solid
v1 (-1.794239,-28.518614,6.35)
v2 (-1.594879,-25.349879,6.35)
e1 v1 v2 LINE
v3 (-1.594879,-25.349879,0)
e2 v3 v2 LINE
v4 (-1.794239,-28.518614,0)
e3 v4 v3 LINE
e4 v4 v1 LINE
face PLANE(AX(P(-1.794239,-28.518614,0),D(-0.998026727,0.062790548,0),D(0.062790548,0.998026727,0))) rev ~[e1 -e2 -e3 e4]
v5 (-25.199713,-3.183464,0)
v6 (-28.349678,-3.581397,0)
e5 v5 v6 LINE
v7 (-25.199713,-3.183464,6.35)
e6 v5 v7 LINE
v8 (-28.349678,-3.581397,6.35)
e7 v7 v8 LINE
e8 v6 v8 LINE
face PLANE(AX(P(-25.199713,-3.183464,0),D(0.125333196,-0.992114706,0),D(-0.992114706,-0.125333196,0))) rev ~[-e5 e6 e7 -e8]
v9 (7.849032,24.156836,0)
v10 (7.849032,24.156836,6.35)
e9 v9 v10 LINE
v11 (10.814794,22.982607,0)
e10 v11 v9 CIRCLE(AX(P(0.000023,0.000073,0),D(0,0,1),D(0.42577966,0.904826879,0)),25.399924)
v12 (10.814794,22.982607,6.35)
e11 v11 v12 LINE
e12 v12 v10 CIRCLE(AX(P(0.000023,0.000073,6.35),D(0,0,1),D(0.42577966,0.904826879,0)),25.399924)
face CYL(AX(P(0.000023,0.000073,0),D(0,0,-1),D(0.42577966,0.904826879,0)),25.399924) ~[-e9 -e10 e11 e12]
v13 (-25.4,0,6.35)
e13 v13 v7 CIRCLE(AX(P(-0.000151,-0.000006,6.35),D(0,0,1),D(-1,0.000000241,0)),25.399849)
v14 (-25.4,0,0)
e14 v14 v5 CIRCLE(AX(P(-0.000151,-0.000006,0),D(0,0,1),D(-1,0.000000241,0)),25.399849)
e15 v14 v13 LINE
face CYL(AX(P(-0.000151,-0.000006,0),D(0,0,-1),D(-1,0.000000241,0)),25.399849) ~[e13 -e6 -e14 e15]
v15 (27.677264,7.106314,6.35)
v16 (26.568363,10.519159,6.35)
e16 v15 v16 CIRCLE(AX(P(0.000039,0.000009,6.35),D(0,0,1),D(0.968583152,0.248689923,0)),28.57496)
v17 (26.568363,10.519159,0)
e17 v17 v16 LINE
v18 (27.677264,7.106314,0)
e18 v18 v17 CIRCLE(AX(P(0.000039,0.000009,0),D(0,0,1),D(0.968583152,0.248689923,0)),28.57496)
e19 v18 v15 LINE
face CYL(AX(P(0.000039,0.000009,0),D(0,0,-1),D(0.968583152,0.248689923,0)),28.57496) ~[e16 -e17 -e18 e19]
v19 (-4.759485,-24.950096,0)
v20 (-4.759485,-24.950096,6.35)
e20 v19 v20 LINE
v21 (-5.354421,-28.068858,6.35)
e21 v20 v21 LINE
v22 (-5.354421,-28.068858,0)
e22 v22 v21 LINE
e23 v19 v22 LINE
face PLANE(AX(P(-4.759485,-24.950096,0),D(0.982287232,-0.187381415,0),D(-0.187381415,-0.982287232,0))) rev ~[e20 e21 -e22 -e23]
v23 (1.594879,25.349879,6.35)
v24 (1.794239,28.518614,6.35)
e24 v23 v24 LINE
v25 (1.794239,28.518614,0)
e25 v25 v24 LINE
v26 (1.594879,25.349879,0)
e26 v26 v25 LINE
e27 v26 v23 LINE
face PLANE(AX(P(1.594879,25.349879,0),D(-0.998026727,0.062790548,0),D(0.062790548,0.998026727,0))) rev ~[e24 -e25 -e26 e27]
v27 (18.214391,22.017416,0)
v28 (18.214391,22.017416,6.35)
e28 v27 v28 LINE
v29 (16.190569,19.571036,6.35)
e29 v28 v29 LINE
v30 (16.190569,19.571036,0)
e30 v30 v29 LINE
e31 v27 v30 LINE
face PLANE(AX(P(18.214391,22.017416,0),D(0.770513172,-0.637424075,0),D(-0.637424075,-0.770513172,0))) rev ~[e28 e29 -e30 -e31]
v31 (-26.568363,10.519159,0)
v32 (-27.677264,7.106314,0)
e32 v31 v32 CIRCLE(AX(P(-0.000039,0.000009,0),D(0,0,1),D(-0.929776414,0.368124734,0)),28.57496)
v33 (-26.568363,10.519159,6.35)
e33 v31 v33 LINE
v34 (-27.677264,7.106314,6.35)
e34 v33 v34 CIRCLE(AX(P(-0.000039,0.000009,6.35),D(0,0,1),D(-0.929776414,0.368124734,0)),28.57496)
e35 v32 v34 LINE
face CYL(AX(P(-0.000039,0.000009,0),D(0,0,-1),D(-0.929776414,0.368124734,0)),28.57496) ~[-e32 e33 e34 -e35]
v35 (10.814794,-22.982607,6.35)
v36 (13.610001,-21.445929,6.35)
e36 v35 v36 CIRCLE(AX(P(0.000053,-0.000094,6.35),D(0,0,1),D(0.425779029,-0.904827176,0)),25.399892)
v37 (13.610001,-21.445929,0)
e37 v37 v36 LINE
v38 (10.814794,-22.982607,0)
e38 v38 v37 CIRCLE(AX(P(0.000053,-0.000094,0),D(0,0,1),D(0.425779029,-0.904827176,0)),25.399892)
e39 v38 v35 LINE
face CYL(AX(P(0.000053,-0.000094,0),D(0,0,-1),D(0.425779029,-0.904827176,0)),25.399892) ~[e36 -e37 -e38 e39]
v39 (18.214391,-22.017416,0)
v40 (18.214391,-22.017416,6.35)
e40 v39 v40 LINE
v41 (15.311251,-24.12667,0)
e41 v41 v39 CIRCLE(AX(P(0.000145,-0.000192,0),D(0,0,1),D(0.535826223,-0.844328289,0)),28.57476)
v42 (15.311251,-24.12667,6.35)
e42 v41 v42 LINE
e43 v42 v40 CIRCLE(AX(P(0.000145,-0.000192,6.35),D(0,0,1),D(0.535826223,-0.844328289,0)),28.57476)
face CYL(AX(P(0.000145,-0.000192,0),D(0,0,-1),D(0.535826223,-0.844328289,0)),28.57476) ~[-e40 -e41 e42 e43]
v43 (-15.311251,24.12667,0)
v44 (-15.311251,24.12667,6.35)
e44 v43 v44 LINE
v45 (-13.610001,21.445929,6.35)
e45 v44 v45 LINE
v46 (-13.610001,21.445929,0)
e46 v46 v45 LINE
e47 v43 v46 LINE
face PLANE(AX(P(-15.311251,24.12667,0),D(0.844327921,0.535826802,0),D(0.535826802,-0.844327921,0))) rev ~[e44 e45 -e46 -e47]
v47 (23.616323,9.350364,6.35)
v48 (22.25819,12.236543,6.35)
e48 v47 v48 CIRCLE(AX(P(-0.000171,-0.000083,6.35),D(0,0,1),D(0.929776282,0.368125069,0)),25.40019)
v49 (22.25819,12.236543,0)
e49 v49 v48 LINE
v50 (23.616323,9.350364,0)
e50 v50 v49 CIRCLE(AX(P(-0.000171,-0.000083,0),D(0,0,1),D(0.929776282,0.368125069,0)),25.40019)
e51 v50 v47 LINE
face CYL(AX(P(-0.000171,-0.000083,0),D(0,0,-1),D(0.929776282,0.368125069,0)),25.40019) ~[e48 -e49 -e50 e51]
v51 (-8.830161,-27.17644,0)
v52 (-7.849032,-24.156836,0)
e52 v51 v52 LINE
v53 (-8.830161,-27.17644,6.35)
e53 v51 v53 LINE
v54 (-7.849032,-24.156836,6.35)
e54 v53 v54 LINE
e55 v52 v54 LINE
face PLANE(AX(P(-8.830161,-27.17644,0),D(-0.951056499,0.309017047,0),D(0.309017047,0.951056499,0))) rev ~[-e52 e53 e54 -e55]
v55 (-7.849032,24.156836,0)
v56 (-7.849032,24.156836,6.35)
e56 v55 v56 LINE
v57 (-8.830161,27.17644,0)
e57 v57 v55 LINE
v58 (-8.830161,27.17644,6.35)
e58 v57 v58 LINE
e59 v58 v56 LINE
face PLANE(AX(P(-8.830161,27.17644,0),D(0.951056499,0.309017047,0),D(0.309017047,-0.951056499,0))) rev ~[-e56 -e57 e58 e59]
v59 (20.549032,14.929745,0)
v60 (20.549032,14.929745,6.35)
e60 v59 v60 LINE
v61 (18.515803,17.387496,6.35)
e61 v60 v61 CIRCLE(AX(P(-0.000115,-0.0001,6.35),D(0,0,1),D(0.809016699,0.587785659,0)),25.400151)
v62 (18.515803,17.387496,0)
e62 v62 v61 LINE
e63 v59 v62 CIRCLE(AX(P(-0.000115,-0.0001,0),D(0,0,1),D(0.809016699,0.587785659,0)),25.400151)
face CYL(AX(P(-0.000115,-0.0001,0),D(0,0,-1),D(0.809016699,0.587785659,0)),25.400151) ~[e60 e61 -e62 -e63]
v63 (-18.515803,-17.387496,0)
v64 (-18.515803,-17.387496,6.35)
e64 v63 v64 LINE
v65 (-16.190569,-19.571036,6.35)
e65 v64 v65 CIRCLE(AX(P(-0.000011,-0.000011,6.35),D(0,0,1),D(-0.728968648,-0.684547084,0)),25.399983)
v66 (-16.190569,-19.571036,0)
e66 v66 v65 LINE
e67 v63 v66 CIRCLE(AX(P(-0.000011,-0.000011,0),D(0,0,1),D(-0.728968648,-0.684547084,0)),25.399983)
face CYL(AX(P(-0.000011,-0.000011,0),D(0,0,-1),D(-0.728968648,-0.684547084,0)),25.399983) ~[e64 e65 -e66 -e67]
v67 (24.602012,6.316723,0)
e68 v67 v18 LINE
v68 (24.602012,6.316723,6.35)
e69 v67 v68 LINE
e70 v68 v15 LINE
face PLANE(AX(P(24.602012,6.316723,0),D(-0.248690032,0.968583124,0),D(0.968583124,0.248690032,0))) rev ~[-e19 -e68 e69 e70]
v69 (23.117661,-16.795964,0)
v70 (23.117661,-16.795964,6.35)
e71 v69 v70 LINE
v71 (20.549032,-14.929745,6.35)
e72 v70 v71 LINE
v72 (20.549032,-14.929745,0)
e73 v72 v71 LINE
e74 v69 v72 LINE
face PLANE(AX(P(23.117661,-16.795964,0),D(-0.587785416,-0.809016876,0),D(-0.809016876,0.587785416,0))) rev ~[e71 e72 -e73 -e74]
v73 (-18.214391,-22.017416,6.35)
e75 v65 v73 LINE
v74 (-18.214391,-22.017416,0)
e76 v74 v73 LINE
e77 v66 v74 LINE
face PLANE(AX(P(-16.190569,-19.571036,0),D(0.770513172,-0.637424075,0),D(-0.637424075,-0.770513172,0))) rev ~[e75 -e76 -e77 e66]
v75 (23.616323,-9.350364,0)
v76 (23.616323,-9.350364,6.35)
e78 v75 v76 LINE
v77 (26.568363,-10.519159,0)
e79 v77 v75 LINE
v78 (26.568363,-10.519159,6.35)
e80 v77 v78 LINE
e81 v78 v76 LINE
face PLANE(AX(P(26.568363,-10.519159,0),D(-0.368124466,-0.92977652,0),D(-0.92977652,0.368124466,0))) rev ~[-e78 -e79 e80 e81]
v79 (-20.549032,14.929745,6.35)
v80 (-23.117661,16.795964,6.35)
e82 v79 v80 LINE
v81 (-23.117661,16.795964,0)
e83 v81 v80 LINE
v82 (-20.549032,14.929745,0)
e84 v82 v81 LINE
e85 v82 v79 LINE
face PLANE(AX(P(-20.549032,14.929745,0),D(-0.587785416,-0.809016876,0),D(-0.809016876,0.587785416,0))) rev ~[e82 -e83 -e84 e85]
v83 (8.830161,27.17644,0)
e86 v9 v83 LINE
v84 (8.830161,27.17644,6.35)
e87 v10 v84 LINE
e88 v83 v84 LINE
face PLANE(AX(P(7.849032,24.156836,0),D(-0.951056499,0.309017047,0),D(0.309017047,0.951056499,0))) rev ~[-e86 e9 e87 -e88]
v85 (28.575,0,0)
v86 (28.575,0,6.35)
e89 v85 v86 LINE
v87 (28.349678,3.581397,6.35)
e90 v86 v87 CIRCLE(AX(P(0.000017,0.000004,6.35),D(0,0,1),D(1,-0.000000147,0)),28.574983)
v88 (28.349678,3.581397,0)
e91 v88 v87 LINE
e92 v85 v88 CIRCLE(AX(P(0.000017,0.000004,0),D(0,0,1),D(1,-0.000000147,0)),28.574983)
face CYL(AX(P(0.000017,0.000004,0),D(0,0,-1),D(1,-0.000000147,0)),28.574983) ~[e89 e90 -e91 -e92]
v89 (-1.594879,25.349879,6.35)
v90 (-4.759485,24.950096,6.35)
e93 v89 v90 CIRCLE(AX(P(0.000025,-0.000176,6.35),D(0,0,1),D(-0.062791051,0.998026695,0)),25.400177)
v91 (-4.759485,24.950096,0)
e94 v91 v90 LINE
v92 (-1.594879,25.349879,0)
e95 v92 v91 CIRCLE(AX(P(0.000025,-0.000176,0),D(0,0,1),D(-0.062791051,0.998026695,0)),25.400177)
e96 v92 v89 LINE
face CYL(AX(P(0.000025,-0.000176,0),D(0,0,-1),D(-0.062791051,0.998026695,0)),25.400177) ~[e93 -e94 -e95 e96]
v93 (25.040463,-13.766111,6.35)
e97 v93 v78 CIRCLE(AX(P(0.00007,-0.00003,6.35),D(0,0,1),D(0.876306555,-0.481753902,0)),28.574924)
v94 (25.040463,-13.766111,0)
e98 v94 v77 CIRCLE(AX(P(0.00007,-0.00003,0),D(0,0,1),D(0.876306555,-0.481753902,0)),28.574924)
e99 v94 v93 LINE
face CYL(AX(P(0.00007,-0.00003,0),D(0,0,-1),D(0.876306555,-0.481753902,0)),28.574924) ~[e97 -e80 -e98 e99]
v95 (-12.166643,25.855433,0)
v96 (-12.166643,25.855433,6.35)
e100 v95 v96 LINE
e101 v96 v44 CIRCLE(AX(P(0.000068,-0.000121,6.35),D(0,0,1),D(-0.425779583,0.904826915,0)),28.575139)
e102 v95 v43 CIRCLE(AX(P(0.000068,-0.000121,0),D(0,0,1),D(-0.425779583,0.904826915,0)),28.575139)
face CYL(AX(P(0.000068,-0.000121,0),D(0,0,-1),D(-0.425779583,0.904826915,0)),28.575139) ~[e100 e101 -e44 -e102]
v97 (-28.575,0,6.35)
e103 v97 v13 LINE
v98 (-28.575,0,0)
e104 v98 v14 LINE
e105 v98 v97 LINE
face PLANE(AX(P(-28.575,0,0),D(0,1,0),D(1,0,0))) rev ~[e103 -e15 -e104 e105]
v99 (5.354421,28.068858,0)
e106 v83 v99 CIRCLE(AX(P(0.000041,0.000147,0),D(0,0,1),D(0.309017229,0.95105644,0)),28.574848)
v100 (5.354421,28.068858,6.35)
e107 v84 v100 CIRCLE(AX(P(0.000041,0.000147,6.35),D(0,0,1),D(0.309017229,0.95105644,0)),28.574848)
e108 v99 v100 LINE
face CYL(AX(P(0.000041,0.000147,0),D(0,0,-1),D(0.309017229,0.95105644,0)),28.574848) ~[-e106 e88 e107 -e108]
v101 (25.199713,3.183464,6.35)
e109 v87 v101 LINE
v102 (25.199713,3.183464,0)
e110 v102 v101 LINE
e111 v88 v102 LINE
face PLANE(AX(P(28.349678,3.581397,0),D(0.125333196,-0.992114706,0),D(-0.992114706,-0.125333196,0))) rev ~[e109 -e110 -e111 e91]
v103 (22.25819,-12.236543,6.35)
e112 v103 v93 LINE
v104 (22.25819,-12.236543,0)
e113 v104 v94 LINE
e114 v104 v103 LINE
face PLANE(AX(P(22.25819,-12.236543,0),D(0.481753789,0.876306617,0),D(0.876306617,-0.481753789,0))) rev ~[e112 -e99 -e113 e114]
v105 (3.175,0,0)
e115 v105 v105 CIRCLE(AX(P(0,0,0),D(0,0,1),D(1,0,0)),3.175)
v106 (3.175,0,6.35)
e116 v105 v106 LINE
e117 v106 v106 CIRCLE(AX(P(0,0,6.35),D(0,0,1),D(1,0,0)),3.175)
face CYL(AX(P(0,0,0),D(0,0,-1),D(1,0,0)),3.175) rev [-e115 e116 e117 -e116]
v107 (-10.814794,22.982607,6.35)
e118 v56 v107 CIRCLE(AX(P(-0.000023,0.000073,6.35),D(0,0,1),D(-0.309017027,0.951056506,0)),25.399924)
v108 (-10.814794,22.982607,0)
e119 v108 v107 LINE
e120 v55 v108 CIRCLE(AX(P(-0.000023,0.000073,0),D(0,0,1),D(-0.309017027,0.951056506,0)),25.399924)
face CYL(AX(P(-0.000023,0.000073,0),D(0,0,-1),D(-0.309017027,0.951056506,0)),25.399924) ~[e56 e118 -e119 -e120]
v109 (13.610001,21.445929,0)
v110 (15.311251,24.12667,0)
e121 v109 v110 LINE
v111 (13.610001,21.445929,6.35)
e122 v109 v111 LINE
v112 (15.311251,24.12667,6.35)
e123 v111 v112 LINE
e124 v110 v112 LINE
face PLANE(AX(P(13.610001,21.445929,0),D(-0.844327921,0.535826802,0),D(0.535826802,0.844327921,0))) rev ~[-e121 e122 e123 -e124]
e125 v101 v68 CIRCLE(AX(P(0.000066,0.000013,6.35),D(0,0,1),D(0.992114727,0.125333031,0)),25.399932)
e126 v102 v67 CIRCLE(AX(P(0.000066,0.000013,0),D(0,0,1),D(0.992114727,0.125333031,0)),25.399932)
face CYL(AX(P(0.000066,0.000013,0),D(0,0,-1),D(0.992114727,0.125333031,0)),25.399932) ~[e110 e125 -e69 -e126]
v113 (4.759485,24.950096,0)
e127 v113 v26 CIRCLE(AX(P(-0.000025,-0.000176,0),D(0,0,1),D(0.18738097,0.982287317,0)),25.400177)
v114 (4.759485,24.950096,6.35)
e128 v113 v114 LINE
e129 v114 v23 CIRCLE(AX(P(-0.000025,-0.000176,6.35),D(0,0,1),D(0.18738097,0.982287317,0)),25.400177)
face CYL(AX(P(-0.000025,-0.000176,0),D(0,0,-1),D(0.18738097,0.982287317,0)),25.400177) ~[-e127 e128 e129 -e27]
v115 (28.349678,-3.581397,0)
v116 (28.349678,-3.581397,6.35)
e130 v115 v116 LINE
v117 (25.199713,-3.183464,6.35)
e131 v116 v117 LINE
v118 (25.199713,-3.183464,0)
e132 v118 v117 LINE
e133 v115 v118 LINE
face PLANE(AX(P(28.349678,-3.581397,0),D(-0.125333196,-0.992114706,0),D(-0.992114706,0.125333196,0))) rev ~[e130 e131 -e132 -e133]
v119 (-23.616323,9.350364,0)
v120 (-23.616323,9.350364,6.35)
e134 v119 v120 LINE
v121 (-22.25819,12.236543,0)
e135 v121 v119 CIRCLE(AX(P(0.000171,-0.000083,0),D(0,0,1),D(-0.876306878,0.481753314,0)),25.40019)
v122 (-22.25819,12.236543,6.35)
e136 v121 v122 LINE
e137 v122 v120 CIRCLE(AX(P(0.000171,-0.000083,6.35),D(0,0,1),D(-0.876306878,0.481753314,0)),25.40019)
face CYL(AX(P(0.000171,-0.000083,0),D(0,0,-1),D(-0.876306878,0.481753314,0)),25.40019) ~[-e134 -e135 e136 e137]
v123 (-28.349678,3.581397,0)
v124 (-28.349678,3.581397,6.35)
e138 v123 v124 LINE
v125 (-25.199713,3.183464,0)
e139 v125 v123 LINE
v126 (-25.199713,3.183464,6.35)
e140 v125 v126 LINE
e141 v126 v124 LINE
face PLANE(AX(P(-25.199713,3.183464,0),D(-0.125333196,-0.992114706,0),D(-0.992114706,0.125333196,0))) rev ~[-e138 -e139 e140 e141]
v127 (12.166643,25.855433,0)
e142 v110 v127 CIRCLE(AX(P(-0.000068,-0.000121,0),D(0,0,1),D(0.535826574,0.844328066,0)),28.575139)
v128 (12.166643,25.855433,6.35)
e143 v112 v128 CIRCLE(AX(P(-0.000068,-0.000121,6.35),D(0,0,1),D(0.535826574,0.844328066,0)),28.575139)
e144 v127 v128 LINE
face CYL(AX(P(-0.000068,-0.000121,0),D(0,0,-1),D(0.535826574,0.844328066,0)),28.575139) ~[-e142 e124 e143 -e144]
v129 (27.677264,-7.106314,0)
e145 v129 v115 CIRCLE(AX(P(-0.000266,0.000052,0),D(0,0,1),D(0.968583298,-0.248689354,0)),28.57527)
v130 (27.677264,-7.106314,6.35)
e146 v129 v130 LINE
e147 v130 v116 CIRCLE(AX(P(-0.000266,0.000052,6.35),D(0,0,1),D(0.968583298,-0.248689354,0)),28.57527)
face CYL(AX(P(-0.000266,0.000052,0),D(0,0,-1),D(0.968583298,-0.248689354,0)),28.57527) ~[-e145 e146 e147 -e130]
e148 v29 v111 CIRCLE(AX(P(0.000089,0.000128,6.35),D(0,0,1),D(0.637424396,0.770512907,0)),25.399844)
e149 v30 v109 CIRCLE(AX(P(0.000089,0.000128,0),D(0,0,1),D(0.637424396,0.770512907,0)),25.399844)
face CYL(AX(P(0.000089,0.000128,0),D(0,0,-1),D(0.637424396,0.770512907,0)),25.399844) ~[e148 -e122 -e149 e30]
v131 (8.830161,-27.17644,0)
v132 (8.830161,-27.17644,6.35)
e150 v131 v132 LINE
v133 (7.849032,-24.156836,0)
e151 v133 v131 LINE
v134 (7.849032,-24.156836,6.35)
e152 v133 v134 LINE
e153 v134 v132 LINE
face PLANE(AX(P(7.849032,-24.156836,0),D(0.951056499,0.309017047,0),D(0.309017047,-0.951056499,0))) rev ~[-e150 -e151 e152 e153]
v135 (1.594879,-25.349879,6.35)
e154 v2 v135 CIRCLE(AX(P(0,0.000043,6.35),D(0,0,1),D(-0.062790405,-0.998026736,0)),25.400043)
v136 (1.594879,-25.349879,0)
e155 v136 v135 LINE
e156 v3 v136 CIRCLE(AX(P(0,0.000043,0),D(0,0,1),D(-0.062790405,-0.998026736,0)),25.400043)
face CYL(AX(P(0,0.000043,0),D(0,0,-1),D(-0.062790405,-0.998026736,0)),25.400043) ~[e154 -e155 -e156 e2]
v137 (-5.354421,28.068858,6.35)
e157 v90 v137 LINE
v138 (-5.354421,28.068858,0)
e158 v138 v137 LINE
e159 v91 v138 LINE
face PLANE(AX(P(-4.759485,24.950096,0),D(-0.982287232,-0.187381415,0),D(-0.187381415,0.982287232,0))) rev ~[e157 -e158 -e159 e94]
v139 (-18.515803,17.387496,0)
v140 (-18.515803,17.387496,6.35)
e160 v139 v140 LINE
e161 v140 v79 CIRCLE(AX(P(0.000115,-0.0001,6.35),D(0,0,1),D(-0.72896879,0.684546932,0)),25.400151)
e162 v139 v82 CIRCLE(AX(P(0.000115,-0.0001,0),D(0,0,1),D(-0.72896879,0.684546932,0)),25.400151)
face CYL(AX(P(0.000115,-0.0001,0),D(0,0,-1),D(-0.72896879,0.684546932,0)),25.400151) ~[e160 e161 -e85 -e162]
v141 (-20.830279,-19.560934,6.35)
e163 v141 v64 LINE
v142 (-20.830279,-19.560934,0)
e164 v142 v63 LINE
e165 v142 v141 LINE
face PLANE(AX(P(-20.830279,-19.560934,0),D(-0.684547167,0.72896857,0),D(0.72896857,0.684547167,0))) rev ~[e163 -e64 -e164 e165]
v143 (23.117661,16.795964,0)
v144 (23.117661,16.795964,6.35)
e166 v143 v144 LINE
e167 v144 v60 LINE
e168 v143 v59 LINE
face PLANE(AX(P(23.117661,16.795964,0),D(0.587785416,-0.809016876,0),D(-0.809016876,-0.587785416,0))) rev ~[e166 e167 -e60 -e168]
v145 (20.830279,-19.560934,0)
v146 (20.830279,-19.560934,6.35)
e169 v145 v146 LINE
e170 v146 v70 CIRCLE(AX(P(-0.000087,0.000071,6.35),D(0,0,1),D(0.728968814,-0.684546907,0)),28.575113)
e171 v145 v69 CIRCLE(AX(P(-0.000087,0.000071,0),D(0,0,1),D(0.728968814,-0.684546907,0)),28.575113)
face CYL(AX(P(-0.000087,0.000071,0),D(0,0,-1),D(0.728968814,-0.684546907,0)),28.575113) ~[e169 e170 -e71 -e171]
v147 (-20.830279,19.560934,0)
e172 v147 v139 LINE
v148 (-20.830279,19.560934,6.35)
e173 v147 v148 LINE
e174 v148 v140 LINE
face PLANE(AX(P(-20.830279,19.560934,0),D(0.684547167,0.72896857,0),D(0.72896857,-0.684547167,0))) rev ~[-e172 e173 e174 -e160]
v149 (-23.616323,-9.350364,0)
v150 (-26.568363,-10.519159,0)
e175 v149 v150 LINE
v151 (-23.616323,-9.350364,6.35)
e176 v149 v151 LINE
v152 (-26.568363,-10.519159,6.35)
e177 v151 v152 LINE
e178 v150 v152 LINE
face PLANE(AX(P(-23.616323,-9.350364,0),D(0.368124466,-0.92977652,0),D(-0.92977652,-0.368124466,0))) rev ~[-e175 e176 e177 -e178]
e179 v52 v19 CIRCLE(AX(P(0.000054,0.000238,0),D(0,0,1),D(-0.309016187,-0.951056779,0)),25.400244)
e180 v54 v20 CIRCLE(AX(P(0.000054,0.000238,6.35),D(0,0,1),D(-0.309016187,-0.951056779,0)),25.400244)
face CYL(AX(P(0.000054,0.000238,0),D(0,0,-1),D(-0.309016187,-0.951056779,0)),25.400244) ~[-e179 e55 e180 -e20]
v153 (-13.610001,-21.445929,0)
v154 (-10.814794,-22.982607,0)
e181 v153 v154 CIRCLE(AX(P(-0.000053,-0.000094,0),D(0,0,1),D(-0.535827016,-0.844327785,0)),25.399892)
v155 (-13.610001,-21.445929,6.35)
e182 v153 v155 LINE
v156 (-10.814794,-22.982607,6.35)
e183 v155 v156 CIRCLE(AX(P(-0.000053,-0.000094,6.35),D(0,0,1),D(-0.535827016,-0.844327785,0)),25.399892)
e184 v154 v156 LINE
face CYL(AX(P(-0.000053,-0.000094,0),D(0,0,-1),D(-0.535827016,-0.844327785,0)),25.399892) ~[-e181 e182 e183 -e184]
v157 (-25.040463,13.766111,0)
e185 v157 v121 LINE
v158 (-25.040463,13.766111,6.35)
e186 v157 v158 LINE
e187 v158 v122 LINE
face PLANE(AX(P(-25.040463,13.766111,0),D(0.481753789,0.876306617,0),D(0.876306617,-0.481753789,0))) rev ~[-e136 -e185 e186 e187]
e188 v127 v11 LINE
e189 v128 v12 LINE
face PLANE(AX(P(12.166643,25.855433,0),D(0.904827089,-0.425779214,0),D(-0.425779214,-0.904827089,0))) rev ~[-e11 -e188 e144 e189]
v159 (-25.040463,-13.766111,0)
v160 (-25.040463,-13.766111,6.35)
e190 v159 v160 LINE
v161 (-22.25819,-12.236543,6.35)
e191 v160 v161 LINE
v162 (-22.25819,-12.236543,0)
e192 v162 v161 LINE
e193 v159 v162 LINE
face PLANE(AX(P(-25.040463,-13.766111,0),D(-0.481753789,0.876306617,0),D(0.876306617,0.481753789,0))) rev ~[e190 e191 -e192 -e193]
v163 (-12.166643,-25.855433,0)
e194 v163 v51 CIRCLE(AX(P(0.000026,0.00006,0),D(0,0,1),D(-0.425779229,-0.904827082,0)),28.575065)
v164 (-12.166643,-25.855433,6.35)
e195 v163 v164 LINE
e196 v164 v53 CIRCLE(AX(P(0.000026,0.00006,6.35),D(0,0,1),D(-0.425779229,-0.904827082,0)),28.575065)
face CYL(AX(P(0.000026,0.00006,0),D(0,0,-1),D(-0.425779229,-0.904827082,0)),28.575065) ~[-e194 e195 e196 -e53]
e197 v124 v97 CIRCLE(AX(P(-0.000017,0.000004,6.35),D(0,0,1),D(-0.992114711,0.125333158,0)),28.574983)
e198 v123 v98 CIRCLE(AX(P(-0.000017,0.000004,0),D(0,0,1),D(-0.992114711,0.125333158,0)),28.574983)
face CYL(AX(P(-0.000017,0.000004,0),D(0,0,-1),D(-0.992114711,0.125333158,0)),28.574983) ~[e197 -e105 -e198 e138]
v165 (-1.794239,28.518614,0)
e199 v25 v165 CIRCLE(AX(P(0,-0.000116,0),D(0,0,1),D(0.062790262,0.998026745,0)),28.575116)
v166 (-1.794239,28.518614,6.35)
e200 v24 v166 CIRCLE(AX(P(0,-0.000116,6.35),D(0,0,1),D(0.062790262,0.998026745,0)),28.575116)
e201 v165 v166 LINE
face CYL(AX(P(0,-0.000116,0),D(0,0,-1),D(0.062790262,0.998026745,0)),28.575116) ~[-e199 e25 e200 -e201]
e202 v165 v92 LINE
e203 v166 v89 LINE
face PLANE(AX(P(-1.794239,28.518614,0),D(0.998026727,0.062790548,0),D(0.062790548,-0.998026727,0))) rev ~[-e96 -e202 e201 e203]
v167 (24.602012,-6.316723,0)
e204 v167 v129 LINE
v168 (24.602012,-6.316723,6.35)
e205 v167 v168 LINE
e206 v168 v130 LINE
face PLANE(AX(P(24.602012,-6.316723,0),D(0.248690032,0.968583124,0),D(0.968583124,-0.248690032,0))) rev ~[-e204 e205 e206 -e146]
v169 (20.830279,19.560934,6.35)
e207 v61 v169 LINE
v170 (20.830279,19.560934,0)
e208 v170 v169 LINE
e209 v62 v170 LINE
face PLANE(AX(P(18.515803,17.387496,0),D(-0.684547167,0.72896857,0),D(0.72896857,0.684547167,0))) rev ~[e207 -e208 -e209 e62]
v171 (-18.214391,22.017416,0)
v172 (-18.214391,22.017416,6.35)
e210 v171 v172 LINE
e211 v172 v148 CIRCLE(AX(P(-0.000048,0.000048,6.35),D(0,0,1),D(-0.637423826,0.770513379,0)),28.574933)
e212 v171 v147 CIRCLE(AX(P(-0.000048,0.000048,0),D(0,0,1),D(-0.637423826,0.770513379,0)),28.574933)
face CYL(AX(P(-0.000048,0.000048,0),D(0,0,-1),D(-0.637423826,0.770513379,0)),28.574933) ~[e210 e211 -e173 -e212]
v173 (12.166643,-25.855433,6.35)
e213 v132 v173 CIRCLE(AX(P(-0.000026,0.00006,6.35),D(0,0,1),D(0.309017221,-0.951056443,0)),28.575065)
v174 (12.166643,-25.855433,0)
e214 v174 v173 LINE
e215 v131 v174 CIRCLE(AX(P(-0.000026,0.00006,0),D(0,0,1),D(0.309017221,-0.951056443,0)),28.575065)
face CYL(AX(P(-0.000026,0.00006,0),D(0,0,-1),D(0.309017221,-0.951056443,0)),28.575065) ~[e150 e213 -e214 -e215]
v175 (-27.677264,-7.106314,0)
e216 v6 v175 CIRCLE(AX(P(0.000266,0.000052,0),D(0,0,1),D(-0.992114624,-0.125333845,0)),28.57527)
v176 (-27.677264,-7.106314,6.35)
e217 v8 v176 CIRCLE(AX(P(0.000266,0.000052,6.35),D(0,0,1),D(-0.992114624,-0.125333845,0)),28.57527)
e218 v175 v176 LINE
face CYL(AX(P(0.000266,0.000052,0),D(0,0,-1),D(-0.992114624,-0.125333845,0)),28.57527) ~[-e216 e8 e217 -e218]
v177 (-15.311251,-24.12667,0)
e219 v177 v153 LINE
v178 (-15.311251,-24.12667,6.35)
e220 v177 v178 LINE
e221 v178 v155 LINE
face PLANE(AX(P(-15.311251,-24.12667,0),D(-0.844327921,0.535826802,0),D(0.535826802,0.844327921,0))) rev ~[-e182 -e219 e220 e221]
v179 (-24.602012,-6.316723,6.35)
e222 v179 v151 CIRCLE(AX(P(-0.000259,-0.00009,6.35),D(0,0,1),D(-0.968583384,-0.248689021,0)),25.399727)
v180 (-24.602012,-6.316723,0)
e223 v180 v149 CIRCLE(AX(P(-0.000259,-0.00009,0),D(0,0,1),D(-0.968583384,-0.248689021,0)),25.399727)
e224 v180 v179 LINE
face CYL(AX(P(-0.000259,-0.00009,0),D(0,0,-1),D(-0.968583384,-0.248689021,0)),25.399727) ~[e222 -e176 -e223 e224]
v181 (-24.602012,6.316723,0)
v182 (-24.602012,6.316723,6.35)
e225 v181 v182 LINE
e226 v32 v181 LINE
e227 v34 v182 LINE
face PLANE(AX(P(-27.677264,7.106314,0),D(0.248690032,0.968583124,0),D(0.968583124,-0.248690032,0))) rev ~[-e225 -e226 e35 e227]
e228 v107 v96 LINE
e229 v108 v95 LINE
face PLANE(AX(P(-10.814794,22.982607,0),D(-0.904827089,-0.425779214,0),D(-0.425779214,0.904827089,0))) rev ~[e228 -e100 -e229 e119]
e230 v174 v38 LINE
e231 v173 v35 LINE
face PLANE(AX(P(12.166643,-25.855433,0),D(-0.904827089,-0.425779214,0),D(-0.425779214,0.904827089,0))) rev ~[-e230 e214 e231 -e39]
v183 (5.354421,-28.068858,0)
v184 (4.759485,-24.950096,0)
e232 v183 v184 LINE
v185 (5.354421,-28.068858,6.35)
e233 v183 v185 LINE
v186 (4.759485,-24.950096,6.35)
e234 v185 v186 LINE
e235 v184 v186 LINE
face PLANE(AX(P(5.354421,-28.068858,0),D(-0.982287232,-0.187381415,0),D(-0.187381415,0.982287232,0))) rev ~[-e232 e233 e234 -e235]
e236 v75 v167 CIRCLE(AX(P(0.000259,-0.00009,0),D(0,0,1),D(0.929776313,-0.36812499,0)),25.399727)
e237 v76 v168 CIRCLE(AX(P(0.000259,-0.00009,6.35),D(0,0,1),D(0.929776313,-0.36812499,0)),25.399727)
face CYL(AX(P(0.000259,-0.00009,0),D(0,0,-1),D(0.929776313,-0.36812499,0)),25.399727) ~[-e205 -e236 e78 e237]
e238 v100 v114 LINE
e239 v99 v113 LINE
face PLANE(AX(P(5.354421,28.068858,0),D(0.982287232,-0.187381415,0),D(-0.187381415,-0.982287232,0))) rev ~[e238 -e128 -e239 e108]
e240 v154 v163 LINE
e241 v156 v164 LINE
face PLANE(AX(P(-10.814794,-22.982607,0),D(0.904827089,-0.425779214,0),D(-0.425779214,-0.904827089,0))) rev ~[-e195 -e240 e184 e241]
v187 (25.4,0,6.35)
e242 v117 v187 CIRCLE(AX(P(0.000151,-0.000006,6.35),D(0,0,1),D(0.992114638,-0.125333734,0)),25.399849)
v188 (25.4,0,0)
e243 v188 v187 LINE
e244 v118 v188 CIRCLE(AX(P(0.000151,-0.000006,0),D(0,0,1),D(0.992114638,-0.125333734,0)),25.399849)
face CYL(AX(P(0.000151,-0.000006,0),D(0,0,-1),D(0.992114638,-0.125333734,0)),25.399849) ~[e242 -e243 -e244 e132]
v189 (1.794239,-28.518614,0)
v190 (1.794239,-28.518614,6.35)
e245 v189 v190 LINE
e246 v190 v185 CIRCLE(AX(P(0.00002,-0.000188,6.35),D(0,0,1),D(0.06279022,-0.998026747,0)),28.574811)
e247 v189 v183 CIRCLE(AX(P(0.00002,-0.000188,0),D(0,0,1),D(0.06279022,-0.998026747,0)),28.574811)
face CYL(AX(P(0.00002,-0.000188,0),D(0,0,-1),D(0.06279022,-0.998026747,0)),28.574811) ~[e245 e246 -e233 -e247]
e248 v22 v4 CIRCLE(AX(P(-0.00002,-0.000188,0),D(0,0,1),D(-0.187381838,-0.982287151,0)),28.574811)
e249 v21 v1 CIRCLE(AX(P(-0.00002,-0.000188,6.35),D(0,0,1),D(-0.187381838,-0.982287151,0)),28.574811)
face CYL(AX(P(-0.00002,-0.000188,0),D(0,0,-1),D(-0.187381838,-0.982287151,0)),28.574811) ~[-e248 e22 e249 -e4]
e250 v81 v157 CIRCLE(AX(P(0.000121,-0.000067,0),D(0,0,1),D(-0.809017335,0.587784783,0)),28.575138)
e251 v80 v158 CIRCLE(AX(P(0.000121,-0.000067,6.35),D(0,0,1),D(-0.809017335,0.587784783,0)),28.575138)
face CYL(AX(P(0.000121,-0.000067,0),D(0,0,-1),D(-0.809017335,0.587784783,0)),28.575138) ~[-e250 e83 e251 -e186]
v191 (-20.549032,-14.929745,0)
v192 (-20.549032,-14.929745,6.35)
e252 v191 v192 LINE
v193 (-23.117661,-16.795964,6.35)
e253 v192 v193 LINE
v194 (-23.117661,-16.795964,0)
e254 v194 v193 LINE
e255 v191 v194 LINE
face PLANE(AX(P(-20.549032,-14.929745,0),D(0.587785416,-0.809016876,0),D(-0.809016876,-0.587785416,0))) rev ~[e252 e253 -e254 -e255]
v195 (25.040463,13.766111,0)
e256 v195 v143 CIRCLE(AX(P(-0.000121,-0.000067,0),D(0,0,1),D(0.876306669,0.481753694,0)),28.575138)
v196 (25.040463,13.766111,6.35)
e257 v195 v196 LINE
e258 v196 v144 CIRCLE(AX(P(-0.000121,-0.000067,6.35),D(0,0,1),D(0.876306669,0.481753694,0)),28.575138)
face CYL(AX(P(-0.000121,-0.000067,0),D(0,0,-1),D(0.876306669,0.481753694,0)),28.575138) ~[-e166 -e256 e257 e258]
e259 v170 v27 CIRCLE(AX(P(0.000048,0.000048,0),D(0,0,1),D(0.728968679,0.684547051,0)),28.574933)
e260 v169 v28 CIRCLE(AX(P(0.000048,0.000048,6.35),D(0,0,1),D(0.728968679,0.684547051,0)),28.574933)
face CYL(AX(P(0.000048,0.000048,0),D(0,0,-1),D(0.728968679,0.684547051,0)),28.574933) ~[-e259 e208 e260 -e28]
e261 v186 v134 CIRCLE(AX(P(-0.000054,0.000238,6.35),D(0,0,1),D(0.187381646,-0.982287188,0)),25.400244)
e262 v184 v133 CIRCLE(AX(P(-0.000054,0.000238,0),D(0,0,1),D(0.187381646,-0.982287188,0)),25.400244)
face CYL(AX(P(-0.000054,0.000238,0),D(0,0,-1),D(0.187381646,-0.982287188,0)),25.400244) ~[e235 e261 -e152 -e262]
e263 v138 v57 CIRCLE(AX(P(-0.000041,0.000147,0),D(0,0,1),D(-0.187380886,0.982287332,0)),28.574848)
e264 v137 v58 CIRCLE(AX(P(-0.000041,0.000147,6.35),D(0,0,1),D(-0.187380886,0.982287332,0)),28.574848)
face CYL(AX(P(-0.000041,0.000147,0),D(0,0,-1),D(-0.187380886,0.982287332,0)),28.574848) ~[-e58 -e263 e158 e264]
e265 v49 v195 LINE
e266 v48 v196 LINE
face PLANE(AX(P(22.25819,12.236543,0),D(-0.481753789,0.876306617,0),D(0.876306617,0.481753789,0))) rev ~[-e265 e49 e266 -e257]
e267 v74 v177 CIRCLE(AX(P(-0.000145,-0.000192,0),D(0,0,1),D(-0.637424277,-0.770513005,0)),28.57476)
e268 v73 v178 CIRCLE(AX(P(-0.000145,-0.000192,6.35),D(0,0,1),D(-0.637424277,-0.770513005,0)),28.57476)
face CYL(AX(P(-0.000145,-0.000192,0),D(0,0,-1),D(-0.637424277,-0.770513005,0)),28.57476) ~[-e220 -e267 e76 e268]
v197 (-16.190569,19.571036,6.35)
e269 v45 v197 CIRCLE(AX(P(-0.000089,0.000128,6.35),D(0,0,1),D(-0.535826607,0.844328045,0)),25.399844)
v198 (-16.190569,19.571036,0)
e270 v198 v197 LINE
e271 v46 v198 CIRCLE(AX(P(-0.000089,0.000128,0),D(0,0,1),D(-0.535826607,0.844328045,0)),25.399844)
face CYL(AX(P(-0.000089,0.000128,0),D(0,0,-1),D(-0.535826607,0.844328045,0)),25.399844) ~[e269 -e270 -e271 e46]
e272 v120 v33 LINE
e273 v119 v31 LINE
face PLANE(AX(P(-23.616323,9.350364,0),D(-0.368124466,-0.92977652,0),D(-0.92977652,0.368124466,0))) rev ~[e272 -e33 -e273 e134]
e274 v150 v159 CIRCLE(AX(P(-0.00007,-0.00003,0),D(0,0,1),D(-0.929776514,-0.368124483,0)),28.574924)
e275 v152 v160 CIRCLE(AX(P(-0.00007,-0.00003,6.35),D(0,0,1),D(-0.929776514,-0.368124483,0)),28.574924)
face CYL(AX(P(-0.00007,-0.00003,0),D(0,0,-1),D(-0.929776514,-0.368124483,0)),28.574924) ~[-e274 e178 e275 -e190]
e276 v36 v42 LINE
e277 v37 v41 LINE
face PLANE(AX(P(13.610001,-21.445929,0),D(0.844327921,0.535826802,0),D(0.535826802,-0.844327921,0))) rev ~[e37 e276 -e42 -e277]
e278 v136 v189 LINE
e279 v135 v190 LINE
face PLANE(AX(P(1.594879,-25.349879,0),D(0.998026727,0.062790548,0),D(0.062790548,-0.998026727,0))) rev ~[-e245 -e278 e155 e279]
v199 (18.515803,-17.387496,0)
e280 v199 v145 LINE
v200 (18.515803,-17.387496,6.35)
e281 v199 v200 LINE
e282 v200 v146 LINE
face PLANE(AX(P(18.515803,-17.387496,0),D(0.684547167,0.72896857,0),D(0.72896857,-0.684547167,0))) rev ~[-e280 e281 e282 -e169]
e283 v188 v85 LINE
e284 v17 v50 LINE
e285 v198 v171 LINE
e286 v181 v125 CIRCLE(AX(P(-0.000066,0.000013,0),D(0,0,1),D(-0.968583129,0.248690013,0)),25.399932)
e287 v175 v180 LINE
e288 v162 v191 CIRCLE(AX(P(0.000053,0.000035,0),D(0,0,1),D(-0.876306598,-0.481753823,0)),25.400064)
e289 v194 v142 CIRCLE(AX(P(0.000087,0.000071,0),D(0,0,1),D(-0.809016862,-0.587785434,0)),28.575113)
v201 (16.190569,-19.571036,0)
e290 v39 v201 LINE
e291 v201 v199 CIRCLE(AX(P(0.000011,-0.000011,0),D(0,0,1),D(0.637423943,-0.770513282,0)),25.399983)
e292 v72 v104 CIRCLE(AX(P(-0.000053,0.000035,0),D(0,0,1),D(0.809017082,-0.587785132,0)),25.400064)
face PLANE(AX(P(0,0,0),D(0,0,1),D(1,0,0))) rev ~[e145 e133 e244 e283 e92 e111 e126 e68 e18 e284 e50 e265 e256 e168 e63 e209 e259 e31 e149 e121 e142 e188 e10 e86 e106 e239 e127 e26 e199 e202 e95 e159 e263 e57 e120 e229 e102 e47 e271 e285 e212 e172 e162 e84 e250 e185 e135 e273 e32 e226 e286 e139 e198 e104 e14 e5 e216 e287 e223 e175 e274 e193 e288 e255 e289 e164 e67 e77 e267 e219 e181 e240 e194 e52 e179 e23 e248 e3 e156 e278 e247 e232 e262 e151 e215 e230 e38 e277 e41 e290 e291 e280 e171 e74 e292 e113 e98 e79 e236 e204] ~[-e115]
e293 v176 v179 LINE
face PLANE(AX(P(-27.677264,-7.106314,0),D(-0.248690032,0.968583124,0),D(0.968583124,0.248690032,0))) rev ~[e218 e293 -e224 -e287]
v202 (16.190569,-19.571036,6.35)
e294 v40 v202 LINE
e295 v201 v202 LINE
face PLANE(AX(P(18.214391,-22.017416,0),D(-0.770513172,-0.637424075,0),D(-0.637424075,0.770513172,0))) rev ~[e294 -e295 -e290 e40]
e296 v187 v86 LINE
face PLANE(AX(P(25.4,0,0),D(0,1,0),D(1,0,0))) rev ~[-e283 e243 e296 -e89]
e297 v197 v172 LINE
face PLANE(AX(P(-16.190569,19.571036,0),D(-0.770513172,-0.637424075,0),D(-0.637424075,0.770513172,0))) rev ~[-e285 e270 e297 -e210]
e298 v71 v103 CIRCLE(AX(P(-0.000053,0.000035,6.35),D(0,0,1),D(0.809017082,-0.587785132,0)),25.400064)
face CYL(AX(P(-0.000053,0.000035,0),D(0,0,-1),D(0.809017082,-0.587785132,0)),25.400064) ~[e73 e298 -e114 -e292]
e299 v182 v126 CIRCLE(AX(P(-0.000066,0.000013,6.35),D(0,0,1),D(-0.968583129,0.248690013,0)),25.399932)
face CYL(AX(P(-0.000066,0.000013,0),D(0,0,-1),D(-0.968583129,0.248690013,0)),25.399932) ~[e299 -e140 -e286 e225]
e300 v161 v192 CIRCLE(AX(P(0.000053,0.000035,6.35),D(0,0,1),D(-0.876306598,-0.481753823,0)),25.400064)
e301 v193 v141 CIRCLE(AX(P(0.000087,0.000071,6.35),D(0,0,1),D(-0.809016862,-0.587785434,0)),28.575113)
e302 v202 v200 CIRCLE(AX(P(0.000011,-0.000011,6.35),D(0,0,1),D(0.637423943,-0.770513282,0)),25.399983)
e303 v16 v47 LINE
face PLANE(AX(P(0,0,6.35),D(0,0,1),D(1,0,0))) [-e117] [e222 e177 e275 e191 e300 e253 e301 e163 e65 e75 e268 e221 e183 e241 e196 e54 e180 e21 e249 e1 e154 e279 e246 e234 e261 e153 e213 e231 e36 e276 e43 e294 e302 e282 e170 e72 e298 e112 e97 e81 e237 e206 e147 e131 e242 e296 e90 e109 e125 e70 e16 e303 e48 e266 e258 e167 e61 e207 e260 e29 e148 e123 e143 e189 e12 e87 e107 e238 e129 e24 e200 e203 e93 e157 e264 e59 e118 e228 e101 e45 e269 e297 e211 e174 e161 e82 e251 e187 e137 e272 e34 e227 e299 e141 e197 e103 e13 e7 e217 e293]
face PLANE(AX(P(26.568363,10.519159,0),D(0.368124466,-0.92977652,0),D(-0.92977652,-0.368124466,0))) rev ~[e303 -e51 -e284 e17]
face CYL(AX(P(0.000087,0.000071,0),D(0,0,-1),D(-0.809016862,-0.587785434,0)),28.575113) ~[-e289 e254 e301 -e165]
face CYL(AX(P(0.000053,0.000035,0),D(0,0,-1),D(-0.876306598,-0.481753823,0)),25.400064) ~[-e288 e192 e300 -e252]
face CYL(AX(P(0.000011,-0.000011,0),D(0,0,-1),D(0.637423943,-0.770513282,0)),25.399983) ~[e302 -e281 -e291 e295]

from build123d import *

# Parameters (mm, degrees)
F0_R     = 3.175
F1_DEPTH = 6.35


with BuildPart() as f1:
    # F0 (on Top) → F1 (new body)
    with BuildSketch(Plane.XY):
        with BuildLine():
            Line((-4.759485, 24.950096), (-5.354421, 28.068858))
            ThreePointArc((-5.354421, 28.068858), (-7.106314, 27.677264), (-8.830161, 27.17644))
            Line((-8.830161, 27.17644), (-7.849032, 24.156836))
            ThreePointArc((-7.849032, 24.156836), (-9.350364, 23.616323), (-10.814794, 22.982607))
            Line((-10.814794, 22.982607), (-12.166643, 25.855433))
            ThreePointArc((-12.166643, 25.855433), (-13.766111, 25.040463), (-15.311251, 24.12667))
            Line((-15.311251, 24.12667), (-13.610001, 21.445929))
            ThreePointArc((-13.610001, 21.445929), (-14.929745, 20.549032), (-16.190569, 19.571036))
            Line((-16.190569, 19.571036), (-18.214391, 22.017416))
            ThreePointArc((-18.214391, 22.017416), (-19.560934, 20.830279), (-20.830279, 19.560934))
            Line((-20.830279, 19.560934), (-18.515803, 17.387496))
            ThreePointArc((-18.515803, 17.387496), (-19.571036, 16.190569), (-20.549032, 14.929745))
            Line((-20.549032, 14.929745), (-23.117661, 16.795964))
            ThreePointArc((-23.117661, 16.795964), (-24.12667, 15.311251), (-25.040463, 13.766111))
            Line((-25.040463, 13.766111), (-22.25819, 12.236543))
            ThreePointArc((-22.25819, 12.236543), (-22.982607, 10.814794), (-23.616323, 9.350364))
            Line((-23.616323, 9.350364), (-26.568363, 10.519159))
            ThreePointArc((-26.568363, 10.519159), (-27.17644, 8.830161), (-27.677264, 7.106314))
            Line((-27.677264, 7.106314), (-24.602012, 6.316723))
            ThreePointArc((-24.602012, 6.316723), (-24.950096, 4.759485), (-25.199713, 3.183464))
            Line((-25.199713, 3.183464), (-28.349678, 3.581397))
            ThreePointArc((-28.349678, 3.581397), (-28.518614, 1.794239), (-28.575, 0))
            Line((-28.575, 0), (-25.4, 0))
            ThreePointArc((-25.4, 0), (-25.349879, -1.594879), (-25.199713, -3.183464))
            Line((-25.199713, -3.183464), (-28.349678, -3.581397))
            ThreePointArc((-28.349678, -3.581397), (-28.068858, -5.354421), (-27.677264, -7.106314))
            Line((-27.677264, -7.106314), (-24.602012, -6.316723))
            ThreePointArc((-24.602012, -6.316723), (-24.156836, -7.849032), (-23.616323, -9.350364))
            Line((-23.616323, -9.350364), (-26.568363, -10.519159))
            ThreePointArc((-26.568363, -10.519159), (-25.855433, -12.166643), (-25.040463, -13.766111))
            Line((-25.040463, -13.766111), (-22.25819, -12.236543))
            ThreePointArc((-22.25819, -12.236543), (-21.445929, -13.610001), (-20.549032, -14.929745))
            Line((-20.549032, -14.929745), (-23.117661, -16.795964))
            ThreePointArc((-23.117661, -16.795964), (-22.017416, -18.214391), (-20.830279, -19.560934))
            Line((-20.830279, -19.560934), (-18.515803, -17.387496))
            ThreePointArc((-18.515803, -17.387496), (-17.387496, -18.515803), (-16.190569, -19.571036))
            Line((-16.190569, -19.571036), (-18.214391, -22.017416))
            ThreePointArc((-18.214391, -22.017416), (-16.795964, -23.117661), (-15.311251, -24.12667))
            Line((-15.311251, -24.12667), (-13.610001, -21.445929))
            ThreePointArc((-13.610001, -21.445929), (-12.236543, -22.25819), (-10.814794, -22.982607))
            Line((-10.814794, -22.982607), (-12.166643, -25.855433))
            ThreePointArc((-12.166643, -25.855433), (-10.519159, -26.568363), (-8.830161, -27.17644))
            Line((-8.830161, -27.17644), (-7.849032, -24.156836))
            ThreePointArc((-7.849032, -24.156836), (-6.316723, -24.602012), (-4.759485, -24.950096))
            Line((-4.759485, -24.950096), (-5.354421, -28.068858))
            ThreePointArc((-5.354421, -28.068858), (-3.581397, -28.349678), (-1.794239, -28.518614))
            Line((-1.794239, -28.518614), (-1.594879, -25.349879))
            ThreePointArc((-1.594879, -25.349879), (0, -25.4), (1.594879, -25.349879))
            Line((1.594879, -25.349879), (1.794239, -28.518614))
            ThreePointArc((1.794239, -28.518614), (3.581397, -28.349678), (5.354421, -28.068858))
            Line((5.354421, -28.068858), (4.759485, -24.950096))
            ThreePointArc((4.759485, -24.950096), (6.316723, -24.602012), (7.849032, -24.156836))
            Line((7.849032, -24.156836), (8.830161, -27.17644))
            ThreePointArc((8.830161, -27.17644), (10.519159, -26.568363), (12.166643, -25.855433))
            Line((12.166643, -25.855433), (10.814794, -22.982607))
            ThreePointArc((10.814794, -22.982607), (12.236543, -22.25819), (13.610001, -21.445929))
            Line((13.610001, -21.445929), (15.311251, -24.12667))
            ThreePointArc((15.311251, -24.12667), (16.795964, -23.117661), (18.214391, -22.017416))
            Line((18.214391, -22.017416), (16.190569, -19.571036))
            ThreePointArc((16.190569, -19.571036), (17.387496, -18.515803), (18.515803, -17.387496))
            Line((18.515803, -17.387496), (20.830279, -19.560934))
            ThreePointArc((20.830279, -19.560934), (22.017416, -18.214391), (23.117661, -16.795964))
            Line((23.117661, -16.795964), (20.549032, -14.929745))
            ThreePointArc((20.549032, -14.929745), (21.445929, -13.610001), (22.25819, -12.236543))
            Line((22.25819, -12.236543), (25.040463, -13.766111))
            ThreePointArc((25.040463, -13.766111), (25.855433, -12.166643), (26.568363, -10.519159))
            Line((26.568363, -10.519159), (23.616323, -9.350364))
            ThreePointArc((23.616323, -9.350364), (24.156836, -7.849032), (24.602012, -6.316723))
            Line((24.602012, -6.316723), (27.677264, -7.106314))
            ThreePointArc((27.677264, -7.106314), (28.068858, -5.354421), (28.349678, -3.581397))
            Line((28.349678, -3.581397), (25.199713, -3.183464))
            ThreePointArc((25.199713, -3.183464), (25.349879, -1.594879), (25.4, 0))
            Line((25.4, 0), (28.575, 0))
            ThreePointArc((28.575, 0), (28.518614, 1.794239), (28.349678, 3.581397))
            Line((28.349678, 3.581397), (25.199713, 3.183464))
            ThreePointArc((25.199713, 3.183464), (24.950096, 4.759485), (24.602012, 6.316723))
            Line((24.602012, 6.316723), (27.677264, 7.106314))
            ThreePointArc((27.677264, 7.106314), (27.17644, 8.830161), (26.568363, 10.519159))
            Line((26.568363, 10.519159), (23.616323, 9.350364))
            ThreePointArc((23.616323, 9.350364), (22.982607, 10.814794), (22.25819, 12.236543))
            Line((22.25819, 12.236543), (25.040463, 13.766111))
            ThreePointArc((25.040463, 13.766111), (24.12667, 15.311251), (23.117661, 16.795964))
            Line((23.117661, 16.795964), (20.549032, 14.929745))
            ThreePointArc((20.549032, 14.929745), (19.571036, 16.190569), (18.515803, 17.387496))
            Line((18.515803, 17.387496), (20.830279, 19.560934))
            ThreePointArc((20.830279, 19.560934), (19.560934, 20.830279), (18.214391, 22.017416))
            Line((18.214391, 22.017416), (16.190569, 19.571036))
            ThreePointArc((16.190569, 19.571036), (14.929745, 20.549032), (13.610001, 21.445929))
            Line((13.610001, 21.445929), (15.311251, 24.12667))
            ThreePointArc((15.311251, 24.12667), (13.766111, 25.040463), (12.166643, 25.855433))
            Line((12.166643, 25.855433), (10.814794, 22.982607))
            ThreePointArc((10.814794, 22.982607), (9.350364, 23.616323), (7.849032, 24.156836))
            Line((7.849032, 24.156836), (8.830161, 27.17644))
            ThreePointArc((8.830161, 27.17644), (7.106314, 27.677264), (5.354421, 28.068858))
            Line((5.354421, 28.068858), (4.759485, 24.950096))
            ThreePointArc((4.759485, 24.950096), (3.183464, 25.199713), (1.594879, 25.349879))
            Line((1.594879, 25.349879), (1.794239, 28.518614))
            ThreePointArc((1.794239, 28.518614), (0, 28.575), (-1.794239, 28.518614))
            Line((-1.794239, 28.518614), (-1.594879, 25.349879))
            ThreePointArc((-1.594879, 25.349879), (-3.183464, 25.199713), (-4.759485, 24.950096))
        make_face()
        Circle(F0_R, mode=Mode.SUBTRACT)
    extrude(amount=F1_DEPTH)


solid = f1.part
